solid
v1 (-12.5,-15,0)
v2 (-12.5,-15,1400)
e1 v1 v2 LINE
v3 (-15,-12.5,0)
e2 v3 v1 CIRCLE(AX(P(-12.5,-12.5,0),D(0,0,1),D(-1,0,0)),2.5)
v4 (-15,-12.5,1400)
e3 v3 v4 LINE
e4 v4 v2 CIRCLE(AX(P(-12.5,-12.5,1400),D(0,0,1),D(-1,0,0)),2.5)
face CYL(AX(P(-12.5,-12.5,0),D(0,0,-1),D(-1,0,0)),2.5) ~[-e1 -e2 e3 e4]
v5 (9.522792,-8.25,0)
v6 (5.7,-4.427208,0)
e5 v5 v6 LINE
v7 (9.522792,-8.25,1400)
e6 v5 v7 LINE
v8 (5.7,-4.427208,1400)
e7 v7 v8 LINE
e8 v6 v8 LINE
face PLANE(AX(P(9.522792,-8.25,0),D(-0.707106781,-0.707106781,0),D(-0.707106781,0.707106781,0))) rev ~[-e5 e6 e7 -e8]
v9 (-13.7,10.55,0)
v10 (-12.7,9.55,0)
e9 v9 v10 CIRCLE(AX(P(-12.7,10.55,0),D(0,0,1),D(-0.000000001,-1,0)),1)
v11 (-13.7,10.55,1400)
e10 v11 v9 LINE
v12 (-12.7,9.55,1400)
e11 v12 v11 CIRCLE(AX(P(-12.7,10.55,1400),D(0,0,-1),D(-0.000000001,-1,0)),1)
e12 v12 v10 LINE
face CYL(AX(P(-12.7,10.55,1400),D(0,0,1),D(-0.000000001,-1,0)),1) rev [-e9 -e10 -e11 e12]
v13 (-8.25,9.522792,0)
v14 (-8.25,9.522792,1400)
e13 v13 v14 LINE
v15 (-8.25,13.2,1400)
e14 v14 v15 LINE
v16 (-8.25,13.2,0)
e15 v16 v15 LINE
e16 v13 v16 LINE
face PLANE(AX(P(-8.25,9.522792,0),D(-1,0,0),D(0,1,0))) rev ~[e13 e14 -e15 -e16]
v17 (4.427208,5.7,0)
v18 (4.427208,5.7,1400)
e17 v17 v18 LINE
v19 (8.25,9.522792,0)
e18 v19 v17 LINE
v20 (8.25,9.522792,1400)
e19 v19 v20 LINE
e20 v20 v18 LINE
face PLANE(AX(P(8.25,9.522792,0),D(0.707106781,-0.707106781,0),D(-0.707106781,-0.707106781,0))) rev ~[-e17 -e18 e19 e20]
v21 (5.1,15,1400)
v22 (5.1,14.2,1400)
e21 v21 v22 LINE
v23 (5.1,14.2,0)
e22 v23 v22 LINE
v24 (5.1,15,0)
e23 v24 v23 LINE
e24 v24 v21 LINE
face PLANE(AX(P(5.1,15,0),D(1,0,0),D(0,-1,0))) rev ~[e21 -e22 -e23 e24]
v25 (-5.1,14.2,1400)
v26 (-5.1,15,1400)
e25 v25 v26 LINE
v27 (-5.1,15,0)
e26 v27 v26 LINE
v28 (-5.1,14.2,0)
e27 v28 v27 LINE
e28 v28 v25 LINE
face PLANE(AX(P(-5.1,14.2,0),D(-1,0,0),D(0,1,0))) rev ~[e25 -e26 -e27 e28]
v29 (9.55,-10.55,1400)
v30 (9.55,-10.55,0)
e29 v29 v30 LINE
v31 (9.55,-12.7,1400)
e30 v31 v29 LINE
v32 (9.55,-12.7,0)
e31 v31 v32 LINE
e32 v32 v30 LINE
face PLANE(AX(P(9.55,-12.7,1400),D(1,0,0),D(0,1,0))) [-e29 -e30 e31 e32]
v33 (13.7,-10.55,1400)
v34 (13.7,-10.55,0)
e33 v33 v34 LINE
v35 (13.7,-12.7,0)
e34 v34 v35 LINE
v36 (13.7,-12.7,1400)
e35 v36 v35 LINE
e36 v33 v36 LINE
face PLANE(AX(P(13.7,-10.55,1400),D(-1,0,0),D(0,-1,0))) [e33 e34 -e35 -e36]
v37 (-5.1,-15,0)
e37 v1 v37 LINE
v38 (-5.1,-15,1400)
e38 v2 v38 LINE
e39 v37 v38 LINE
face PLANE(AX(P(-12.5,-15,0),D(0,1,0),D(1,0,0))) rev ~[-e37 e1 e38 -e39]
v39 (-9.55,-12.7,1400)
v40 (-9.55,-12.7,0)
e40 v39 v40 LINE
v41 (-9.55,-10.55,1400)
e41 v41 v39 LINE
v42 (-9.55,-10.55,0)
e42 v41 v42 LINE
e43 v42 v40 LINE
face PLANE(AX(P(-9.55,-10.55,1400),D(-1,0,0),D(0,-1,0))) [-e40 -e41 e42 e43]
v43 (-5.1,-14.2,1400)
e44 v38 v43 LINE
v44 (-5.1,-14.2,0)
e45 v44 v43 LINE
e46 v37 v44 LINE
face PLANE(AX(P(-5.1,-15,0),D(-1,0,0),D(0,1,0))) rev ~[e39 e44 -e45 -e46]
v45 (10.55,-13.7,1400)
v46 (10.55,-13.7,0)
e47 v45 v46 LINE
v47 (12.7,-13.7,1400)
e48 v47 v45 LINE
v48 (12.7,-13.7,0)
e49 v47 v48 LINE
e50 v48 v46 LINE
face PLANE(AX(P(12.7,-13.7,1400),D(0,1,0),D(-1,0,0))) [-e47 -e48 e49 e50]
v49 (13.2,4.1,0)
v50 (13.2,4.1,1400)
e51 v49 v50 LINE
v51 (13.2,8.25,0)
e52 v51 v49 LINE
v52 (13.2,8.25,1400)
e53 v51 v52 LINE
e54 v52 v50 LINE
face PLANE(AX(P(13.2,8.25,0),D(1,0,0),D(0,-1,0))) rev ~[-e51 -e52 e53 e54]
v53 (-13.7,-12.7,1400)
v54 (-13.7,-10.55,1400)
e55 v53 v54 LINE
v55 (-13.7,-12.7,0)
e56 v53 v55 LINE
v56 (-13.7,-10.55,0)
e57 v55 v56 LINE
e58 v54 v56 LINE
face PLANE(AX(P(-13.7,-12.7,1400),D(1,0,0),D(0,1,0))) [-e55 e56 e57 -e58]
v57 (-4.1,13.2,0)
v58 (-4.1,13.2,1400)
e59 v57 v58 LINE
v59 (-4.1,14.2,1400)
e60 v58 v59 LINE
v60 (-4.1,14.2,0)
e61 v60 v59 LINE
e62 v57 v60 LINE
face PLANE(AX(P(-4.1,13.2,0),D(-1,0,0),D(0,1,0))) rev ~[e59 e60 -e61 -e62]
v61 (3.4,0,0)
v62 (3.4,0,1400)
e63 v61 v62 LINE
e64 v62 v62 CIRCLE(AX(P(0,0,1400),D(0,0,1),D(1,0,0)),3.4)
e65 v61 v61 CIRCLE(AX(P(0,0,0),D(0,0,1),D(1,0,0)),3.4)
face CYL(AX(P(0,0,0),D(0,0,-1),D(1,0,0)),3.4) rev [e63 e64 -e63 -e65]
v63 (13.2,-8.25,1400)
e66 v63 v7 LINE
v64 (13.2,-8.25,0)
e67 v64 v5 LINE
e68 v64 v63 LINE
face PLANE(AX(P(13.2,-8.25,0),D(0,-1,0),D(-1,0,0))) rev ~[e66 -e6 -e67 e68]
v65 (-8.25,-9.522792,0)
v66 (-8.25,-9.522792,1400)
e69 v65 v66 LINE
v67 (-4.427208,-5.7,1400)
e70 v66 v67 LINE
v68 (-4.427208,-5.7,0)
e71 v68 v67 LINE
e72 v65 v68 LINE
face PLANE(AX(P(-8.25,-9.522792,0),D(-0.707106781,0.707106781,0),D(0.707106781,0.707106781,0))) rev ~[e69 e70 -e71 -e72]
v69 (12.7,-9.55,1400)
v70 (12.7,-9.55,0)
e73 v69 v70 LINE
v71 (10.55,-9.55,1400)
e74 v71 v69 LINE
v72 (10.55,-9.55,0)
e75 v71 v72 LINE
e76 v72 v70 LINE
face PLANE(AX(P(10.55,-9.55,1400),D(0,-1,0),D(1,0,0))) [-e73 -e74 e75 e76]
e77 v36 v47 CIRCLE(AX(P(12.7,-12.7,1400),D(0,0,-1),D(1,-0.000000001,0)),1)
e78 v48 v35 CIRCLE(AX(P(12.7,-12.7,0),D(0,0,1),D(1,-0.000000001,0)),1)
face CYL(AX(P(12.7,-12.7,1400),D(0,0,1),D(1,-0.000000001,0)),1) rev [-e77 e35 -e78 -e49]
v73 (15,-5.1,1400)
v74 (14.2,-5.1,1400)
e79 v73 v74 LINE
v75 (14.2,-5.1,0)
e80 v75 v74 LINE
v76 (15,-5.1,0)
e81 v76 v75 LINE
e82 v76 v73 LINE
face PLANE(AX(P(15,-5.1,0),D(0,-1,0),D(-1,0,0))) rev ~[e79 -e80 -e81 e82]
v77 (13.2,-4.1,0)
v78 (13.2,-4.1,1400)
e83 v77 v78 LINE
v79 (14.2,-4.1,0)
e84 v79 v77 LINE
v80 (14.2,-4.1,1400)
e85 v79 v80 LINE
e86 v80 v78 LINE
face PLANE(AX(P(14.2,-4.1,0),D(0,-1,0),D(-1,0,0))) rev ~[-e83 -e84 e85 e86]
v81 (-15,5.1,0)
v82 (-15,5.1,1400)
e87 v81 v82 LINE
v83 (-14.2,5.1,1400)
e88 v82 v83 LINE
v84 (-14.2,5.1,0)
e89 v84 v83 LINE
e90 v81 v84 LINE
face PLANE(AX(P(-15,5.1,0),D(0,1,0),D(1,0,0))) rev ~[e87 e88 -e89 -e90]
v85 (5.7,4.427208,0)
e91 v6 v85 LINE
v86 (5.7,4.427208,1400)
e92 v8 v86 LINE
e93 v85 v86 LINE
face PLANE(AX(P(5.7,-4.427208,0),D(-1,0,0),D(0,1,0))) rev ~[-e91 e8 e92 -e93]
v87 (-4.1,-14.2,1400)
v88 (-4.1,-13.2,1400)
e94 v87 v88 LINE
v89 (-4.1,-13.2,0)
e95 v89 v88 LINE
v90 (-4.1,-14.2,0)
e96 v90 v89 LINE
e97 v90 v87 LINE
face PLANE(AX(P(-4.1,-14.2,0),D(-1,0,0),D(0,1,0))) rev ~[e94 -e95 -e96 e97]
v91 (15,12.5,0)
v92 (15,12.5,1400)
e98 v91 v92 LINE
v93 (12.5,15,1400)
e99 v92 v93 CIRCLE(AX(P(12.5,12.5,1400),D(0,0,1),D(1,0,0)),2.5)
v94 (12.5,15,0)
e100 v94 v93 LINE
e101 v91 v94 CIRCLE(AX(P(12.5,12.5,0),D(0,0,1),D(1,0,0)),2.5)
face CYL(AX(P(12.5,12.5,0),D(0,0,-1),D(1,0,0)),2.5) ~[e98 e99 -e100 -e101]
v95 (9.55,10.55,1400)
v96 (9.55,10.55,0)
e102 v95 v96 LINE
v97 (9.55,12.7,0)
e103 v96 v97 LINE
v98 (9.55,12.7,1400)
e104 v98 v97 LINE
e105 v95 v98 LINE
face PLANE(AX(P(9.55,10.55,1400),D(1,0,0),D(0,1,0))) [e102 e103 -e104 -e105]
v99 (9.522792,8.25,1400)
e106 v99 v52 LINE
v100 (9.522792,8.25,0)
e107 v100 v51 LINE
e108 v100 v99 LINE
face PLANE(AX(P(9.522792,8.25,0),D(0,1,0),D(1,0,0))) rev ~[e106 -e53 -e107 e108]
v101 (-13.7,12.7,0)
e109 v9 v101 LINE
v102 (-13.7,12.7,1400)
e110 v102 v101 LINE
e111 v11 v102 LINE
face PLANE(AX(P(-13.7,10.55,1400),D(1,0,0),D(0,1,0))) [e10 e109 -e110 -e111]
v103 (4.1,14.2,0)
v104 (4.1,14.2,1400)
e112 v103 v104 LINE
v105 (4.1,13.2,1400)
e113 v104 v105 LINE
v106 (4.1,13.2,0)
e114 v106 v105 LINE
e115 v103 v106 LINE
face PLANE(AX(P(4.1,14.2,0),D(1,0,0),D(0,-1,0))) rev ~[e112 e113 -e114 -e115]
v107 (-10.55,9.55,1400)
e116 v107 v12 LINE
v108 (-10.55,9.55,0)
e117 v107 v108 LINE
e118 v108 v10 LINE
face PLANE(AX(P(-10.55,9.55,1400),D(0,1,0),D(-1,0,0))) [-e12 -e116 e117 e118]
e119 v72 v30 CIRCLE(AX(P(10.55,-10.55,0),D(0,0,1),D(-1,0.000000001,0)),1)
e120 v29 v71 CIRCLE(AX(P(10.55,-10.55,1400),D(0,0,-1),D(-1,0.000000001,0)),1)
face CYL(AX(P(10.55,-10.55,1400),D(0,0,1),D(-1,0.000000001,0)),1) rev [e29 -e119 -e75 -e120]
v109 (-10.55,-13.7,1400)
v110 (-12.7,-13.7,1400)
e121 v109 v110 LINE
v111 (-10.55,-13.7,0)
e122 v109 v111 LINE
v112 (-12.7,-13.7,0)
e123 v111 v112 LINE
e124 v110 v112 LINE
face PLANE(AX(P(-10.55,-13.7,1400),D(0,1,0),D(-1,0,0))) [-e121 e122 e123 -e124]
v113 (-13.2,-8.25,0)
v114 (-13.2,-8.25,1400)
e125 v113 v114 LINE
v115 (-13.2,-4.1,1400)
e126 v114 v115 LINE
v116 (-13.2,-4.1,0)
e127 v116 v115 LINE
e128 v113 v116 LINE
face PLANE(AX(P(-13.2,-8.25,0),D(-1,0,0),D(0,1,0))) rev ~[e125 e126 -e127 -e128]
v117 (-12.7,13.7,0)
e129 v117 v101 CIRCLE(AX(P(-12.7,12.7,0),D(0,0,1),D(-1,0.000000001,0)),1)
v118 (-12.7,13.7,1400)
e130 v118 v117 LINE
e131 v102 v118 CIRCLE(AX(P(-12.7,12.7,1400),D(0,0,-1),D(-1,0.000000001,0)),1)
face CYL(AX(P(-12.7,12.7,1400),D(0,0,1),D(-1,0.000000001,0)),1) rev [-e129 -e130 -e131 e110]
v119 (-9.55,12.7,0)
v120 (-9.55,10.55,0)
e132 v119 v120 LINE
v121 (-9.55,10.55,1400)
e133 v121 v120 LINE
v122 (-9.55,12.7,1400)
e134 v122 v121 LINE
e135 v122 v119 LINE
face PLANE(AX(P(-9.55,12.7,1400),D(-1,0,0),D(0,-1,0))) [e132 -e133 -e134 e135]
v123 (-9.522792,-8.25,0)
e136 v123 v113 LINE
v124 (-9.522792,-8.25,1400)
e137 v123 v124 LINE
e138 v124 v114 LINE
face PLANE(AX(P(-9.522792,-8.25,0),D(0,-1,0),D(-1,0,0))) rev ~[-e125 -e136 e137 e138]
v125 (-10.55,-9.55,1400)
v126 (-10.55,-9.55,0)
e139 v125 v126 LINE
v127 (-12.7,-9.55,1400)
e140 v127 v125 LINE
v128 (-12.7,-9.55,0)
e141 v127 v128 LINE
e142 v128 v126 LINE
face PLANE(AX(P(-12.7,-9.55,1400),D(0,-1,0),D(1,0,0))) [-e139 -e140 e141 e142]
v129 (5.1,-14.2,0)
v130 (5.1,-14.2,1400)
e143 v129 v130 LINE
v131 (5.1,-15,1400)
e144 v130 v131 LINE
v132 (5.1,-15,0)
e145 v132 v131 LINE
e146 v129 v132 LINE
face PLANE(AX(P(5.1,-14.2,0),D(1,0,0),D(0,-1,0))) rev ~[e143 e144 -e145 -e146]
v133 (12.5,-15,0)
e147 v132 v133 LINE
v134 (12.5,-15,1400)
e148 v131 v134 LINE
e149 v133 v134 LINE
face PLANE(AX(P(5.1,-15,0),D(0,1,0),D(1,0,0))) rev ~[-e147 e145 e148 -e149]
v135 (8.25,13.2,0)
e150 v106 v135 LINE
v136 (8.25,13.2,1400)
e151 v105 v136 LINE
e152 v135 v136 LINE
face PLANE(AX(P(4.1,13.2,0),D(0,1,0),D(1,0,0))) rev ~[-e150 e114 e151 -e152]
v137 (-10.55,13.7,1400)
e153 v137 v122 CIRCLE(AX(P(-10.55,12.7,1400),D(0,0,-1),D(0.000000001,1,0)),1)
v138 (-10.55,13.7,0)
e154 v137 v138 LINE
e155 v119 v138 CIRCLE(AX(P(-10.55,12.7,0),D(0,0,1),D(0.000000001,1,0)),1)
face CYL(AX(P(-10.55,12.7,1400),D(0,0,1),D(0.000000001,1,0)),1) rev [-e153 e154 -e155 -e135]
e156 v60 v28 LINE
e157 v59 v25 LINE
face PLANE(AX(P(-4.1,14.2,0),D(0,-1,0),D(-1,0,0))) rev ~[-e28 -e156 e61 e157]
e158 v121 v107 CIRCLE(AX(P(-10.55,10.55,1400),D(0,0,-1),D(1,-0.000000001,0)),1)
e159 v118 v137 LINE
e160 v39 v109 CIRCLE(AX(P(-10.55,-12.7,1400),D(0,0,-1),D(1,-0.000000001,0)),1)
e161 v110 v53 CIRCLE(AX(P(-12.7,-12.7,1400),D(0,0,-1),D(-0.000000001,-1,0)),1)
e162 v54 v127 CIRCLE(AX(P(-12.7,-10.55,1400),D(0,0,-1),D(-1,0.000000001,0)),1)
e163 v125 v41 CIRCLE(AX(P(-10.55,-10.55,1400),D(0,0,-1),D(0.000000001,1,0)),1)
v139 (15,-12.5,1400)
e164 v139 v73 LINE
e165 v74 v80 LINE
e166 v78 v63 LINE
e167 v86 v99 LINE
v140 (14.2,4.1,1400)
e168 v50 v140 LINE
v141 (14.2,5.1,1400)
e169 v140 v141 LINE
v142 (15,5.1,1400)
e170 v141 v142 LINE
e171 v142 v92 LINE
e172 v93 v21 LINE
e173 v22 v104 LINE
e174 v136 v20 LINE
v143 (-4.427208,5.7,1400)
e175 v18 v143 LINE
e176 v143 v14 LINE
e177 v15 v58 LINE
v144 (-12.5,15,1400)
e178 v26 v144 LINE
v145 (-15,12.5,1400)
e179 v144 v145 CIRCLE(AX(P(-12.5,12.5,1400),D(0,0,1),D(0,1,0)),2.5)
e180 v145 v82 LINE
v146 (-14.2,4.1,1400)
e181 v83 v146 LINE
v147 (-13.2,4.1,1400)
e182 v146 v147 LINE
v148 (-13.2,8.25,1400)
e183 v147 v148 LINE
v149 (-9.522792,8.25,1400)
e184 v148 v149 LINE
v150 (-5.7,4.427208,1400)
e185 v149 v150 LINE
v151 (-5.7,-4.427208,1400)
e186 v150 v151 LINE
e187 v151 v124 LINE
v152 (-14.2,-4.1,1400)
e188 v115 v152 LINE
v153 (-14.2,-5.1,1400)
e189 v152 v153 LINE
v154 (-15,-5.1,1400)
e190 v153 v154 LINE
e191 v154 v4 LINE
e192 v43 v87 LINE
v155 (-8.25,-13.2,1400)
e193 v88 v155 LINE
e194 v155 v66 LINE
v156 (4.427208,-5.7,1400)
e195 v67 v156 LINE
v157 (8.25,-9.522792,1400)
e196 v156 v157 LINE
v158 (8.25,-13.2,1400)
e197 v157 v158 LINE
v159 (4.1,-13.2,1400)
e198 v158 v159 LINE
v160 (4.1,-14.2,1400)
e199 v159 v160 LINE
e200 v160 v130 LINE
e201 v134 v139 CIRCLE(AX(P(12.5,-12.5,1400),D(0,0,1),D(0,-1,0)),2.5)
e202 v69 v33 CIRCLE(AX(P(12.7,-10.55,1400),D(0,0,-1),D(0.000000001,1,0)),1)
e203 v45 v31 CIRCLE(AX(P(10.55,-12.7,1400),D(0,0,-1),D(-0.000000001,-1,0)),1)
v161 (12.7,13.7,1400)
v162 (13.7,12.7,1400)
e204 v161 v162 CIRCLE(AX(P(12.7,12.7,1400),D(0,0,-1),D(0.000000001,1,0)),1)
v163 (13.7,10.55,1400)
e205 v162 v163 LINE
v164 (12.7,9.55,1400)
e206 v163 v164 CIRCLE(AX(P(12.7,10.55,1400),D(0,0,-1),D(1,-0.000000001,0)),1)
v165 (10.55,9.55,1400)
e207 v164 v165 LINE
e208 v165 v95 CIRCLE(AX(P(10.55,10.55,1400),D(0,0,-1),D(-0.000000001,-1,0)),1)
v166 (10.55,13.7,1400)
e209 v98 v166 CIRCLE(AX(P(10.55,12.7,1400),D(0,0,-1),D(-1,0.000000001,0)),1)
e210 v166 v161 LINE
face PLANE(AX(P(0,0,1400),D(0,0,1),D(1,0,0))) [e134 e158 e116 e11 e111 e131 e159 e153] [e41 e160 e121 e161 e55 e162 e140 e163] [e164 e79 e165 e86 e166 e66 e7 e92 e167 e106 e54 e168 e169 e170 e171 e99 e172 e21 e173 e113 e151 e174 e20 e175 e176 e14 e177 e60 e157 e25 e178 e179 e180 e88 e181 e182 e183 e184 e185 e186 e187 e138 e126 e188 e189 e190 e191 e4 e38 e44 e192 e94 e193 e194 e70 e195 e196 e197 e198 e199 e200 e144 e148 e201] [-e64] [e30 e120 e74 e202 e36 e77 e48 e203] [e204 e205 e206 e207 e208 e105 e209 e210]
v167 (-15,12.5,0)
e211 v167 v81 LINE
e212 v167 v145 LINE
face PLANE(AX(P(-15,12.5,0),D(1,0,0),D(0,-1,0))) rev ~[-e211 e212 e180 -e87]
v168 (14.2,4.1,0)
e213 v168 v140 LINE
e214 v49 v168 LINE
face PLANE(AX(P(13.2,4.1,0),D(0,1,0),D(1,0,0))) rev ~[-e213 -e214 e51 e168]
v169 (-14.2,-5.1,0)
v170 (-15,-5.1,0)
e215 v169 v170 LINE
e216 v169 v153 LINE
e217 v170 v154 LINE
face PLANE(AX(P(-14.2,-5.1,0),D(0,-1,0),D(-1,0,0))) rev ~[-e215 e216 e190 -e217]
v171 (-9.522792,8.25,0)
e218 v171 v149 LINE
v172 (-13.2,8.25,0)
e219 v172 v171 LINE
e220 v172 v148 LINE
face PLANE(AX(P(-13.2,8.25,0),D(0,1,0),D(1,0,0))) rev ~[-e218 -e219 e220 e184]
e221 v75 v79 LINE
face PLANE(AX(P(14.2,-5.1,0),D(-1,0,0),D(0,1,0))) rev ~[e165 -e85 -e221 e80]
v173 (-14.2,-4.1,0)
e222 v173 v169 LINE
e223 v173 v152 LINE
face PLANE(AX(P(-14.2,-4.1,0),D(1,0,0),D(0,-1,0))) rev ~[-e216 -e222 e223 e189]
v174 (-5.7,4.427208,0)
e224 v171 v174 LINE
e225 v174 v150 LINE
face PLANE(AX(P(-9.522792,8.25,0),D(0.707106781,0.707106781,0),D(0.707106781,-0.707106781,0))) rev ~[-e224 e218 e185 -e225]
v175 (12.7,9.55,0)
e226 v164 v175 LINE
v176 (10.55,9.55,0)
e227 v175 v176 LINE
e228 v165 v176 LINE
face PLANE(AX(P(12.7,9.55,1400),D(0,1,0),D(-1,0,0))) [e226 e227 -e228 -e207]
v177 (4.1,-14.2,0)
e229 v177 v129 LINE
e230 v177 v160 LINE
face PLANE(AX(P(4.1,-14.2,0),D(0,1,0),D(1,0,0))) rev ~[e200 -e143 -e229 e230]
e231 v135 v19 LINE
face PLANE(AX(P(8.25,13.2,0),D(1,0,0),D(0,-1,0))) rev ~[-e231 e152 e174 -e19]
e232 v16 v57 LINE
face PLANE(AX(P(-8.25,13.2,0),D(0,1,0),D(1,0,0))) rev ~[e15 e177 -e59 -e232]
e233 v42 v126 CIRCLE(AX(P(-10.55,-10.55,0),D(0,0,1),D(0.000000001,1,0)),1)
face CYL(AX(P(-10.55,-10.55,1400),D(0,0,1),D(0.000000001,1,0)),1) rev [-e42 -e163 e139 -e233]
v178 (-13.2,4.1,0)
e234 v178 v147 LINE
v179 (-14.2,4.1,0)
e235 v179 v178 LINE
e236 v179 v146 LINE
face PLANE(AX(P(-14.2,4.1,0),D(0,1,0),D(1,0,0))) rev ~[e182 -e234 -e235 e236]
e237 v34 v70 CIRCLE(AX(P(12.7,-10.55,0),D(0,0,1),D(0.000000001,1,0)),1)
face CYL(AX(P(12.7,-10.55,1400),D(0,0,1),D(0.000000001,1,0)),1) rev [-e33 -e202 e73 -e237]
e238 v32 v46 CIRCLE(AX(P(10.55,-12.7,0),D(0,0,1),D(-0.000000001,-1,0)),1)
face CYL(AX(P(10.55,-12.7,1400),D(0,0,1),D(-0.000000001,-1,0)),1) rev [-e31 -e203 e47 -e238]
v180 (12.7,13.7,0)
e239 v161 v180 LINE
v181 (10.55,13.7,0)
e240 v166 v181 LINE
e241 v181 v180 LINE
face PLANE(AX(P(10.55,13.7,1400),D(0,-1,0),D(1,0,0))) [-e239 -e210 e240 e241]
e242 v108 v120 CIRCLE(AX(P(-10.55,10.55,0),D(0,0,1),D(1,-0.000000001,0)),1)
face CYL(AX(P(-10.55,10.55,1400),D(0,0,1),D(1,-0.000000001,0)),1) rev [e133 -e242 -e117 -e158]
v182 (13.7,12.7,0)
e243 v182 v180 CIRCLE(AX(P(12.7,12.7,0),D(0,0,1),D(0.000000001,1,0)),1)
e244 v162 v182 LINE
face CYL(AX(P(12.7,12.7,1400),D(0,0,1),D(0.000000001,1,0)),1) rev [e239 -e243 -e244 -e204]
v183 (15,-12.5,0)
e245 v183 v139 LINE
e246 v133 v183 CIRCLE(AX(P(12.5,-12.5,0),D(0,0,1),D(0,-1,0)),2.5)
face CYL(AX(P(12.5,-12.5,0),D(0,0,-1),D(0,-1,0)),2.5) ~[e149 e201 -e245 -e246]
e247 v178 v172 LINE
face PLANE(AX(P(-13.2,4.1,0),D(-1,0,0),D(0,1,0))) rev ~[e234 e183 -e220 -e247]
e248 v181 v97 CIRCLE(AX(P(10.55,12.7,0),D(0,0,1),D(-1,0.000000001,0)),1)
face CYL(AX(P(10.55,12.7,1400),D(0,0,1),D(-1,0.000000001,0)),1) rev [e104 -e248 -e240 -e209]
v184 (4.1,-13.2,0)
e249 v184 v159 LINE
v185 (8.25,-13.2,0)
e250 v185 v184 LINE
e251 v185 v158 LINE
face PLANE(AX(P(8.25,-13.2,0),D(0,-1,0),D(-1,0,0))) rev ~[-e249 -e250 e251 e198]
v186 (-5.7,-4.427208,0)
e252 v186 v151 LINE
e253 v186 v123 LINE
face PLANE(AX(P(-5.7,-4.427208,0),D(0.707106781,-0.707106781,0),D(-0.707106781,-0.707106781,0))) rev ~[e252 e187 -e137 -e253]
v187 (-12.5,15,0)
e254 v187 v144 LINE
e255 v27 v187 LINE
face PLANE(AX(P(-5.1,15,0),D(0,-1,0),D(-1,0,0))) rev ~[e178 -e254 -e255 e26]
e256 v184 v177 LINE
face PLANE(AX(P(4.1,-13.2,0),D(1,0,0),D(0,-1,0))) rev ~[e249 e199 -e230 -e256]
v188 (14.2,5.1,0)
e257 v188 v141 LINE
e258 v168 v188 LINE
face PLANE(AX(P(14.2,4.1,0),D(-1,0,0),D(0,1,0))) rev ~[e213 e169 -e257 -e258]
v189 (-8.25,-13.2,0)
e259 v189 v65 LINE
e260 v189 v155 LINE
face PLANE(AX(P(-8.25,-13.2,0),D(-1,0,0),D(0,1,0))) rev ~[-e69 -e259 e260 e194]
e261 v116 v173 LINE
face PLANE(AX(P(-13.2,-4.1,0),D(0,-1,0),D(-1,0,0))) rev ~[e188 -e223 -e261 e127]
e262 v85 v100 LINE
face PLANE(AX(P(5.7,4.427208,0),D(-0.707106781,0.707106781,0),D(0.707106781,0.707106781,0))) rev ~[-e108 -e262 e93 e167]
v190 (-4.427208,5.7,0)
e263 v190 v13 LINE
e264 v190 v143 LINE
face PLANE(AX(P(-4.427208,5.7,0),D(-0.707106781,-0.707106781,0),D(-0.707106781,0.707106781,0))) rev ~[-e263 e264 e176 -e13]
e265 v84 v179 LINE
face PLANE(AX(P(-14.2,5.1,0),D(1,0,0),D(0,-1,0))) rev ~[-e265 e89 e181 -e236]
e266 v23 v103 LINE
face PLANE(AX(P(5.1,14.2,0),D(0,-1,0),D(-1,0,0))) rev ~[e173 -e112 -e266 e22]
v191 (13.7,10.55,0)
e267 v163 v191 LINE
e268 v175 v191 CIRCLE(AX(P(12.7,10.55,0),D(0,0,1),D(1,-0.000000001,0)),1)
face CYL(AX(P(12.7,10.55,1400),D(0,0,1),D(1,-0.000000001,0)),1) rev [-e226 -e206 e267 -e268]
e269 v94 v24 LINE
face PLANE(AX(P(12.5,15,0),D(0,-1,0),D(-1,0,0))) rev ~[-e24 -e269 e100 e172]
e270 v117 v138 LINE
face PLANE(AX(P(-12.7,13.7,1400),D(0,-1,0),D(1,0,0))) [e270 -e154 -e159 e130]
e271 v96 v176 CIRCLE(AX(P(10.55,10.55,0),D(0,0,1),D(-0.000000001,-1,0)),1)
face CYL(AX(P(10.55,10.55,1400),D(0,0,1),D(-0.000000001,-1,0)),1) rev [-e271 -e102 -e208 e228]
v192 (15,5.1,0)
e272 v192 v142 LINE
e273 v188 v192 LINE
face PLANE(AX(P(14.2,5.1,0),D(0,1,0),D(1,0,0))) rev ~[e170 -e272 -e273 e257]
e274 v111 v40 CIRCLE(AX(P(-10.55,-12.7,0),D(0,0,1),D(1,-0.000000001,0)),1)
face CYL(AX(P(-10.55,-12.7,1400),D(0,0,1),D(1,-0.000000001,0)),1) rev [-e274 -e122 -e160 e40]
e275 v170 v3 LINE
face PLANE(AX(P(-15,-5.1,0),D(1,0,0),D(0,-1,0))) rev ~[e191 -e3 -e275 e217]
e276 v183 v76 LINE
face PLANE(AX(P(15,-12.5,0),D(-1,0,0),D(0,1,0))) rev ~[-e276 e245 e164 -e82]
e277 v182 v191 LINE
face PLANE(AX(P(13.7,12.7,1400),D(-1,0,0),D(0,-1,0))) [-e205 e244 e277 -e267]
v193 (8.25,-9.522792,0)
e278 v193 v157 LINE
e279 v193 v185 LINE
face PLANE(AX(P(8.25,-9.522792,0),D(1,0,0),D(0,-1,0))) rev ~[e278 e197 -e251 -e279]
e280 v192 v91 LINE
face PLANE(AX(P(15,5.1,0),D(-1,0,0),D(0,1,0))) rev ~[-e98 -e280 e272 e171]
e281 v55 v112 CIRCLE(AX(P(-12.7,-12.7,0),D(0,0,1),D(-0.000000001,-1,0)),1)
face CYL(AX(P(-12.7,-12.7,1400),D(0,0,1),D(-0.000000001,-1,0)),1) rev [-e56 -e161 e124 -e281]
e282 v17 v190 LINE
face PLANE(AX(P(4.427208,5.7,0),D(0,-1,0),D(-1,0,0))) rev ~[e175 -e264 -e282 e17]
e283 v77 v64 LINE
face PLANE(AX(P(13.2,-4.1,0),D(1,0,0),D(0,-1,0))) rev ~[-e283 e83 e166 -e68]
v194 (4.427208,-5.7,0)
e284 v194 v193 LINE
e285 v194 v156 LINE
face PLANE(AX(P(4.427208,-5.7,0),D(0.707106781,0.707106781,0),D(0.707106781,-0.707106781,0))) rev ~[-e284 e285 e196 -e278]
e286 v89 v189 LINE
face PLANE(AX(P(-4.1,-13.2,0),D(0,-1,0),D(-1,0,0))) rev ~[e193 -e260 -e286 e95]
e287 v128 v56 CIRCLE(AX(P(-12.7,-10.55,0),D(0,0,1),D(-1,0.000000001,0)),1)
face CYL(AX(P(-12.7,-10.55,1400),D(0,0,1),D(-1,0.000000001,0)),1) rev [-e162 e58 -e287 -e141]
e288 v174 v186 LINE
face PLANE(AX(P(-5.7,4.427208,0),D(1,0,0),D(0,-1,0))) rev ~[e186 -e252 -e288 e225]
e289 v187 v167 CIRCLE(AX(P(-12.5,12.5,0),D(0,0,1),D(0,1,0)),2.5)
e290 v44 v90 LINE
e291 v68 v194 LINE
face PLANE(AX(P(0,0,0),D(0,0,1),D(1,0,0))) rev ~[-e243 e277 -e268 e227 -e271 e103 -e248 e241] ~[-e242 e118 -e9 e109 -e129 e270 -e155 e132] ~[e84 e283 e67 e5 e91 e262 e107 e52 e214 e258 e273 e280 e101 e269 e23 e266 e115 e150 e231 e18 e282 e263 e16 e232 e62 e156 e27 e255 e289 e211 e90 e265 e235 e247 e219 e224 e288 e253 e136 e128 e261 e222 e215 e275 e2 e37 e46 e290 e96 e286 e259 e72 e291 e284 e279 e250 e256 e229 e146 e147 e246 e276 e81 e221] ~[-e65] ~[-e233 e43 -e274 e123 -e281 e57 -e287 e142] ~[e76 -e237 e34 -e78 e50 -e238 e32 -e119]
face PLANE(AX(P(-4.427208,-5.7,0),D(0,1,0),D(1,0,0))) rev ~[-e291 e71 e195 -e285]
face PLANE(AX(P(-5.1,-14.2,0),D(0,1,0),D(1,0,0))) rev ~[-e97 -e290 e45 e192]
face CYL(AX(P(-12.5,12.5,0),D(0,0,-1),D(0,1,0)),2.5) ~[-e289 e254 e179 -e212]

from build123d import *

# Parameters (mm, degrees)
SKETCH1_R      = 3.4
EXTRUDE1_DEPTH = 1400
EXTRUDE2_DEPTH = 1401.160705062


with BuildPart() as part:
    # Sketch1 → Extrude1 (new body)
    with BuildSketch(Plane.XY):
        with BuildLine():
            Line((-5.1, 14.2), (-5.1, 15))
            Line((-5.1, 15), (-12.5, 15))
            ThreePointArc((-12.5, 15), (-14.267766953, 14.267766953), (-15, 12.5))
            Line((-15, 12.5), (-15, 5.1))
            Line((-15, 5.1), (-14.2, 5.1))
            Line((-14.2, 5.1), (-14.2, 4.1))
            Line((-14.2, 4.1), (-13.2, 4.1))
            Line((-13.2, 4.1), (-13.2, 8.25))
            Line((-13.2, 8.25), (-9.522792206, 8.25))
            Line((-9.522792206, 8.25), (-5.7, 4.427207794))
            Line((-5.7, 4.427207794), (-5.7, -4.427207794))
            Line((-5.7, -4.427207794), (-9.522792206, -8.25))
            Line((-9.522792206, -8.25), (-13.2, -8.25))
            Line((-13.2, -8.25), (-13.2, -4.1))
            Line((-13.2, -4.1), (-14.2, -4.1))
            Line((-14.2, -4.1), (-14.2, -5.1))
            Line((-14.2, -5.1), (-15, -5.1))
            Line((-15, -5.1), (-15, -12.5))
            ThreePointArc((-15, -12.5), (-14.267766953, -14.267766953), (-12.5, -15))
            Line((-12.5, -15), (-5.1, -15))
            Line((-5.1, -15), (-5.1, -14.2))
            Line((-5.1, -14.2), (-4.1, -14.2))
            Line((-4.1, -14.2), (-4.1, -13.2))
            Line((-4.1, -13.2), (-8.25, -13.2))
            Line((-8.25, -13.2), (-8.25, -9.522792206))
            Line((-8.25, -9.522792206), (-4.427207794, -5.7))
            Line((-4.427207794, -5.7), (4.427207794, -5.7))
            Line((4.427207794, -5.7), (8.25, -9.522792206))
            Line((8.25, -9.522792206), (8.25, -13.2))
            Line((8.25, -13.2), (4.1, -13.2))
            Line((4.1, -13.2), (4.1, -14.2))
            Line((4.1, -14.2), (5.1, -14.2))
            Line((5.1, -14.2), (5.1, -15))
            Line((5.1, -15), (12.5, -15))
            ThreePointArc((12.5, -15), (14.267766953, -14.267766953), (15, -12.5))
            Line((15, -12.5), (15, -5.1))
            Line((15, -5.1), (14.2, -5.1))
            Line((14.2, -5.1), (14.2, -4.1))
            Line((14.2, -4.1), (13.2, -4.1))
            Line((13.2, -4.1), (13.2, -8.25))
            Line((13.2, -8.25), (9.522792206, -8.25))
            Line((9.522792206, -8.25), (5.7, -4.427207794))
            Line((5.7, -4.427207794), (5.7, 4.427207794))
            Line((5.7, 4.427207794), (9.522792206, 8.25))
            Line((9.522792206, 8.25), (13.2, 8.25))
            Line((13.2, 8.25), (13.2, 4.1))
            Line((13.2, 4.1), (14.2, 4.1))
            Line((14.2, 4.1), (14.2, 5.1))
            Line((14.2, 5.1), (15, 5.1))
            Line((15, 5.1), (15, 12.5))
            ThreePointArc((15, 12.5), (14.267766953, 14.267766953), (12.5, 15))
            Line((12.5, 15), (5.1, 15))
            Line((5.1, 15), (5.1, 14.2))
            Line((5.1, 14.2), (4.1, 14.2))
            Line((4.1, 14.2), (4.1, 13.2))
            Line((4.1, 13.2), (8.25, 13.2))
            Line((8.25, 13.2), (8.25, 9.522792206))
            Line((8.25, 9.522792206), (4.427207794, 5.7))
            Line((4.427207794, 5.7), (-4.427207794, 5.7))
            Line((-4.427207794, 5.7), (-8.25, 9.522792206))
            Line((-8.25, 9.522792206), (-8.25, 13.2))
            Line((-8.25, 13.2), (-4.1, 13.2))
            Line((-4.1, 13.2), (-4.1, 14.2))
            Line((-4.1, 14.2), (-5.1, 14.2))
        make_face()
        Circle(SKETCH1_R, mode=Mode.SUBTRACT)
    extrude(amount=EXTRUDE1_DEPTH)

    # Sketch2 → Extrude2 (cut, through all)
    with BuildSketch(Plane.XY.offset(1400)):
        with BuildLine():
            Line((13.7, 12.7), (13.7, 10.55))
            ThreePointArc((13.7, 10.55), (13.407106781, 9.842893219), (12.7, 9.55))
            Line((12.7, 9.55), (10.55, 9.55))
            ThreePointArc((10.55, 9.55), (9.842893219, 9.842893219), (9.55, 10.55))
            Line((9.55, 10.55), (9.55, 12.7))
            ThreePointArc((9.55, 12.7), (9.842893219, 13.407106781), (10.55, 13.7))
            Line((10.55, 13.7), (12.7, 13.7))
            ThreePointArc((12.7, 13.7), (13.407106781, 13.407106781), (13.7, 12.7))
        make_face()
        with BuildLine():
            Line((-12.7, 13.7), (-10.55, 13.7))
            ThreePointArc((-10.55, 13.7), (-9.842893219, 13.407106781), (-9.55, 12.7))
            Line((-9.55, 12.7), (-9.55, 10.55))
            ThreePointArc((-9.55, 10.55), (-9.842893219, 9.842893219), (-10.55, 9.55))
            Line((-10.55, 9.55), (-12.7, 9.55))
            ThreePointArc((-12.7, 9.55), (-13.407106781, 9.842893219), (-13.7, 10.55))
            Line((-13.7, 10.55), (-13.7, 12.7))
            ThreePointArc((-13.7, 12.7), (-13.407106781, 13.407106781), (-12.7, 13.7))
        make_face()
        with BuildLine():
            Line((12.7, -13.7), (10.55, -13.7))
            ThreePointArc((10.55, -13.7), (9.842893219, -13.407106781), (9.55, -12.7))
            Line((9.55, -12.7), (9.55, -10.55))
            ThreePointArc((9.55, -10.55), (9.842893219, -9.842893219), (10.55, -9.55))
            Line((10.55, -9.55), (12.7, -9.55))
            ThreePointArc((12.7, -9.55), (13.407106781, -9.842893219), (13.7, -10.55))
            Line((13.7, -10.55), (13.7, -12.7))
            ThreePointArc((13.7, -12.7), (13.407106781, -13.407106781), (12.7, -13.7))
        make_face()
        with BuildLine():
            Line((-13.7, -12.7), (-13.7, -10.55))
            ThreePointArc((-13.7, -10.55), (-13.407106781, -9.842893219), (-12.7, -9.55))
            Line((-12.7, -9.55), (-10.55, -9.55))
            ThreePointArc((-10.55, -9.55), (-9.842893219, -9.842893219), (-9.55, -10.55))
            Line((-9.55, -10.55), (-9.55, -12.7))
            ThreePointArc((-9.55, -12.7), (-9.842893219, -13.407106781), (-10.55, -13.7))
            Line((-10.55, -13.7), (-12.7, -13.7))
            ThreePointArc((-12.7, -13.7), (-13.407106781, -13.407106781), (-13.7, -12.7))
        make_face()
    extrude(amount=-EXTRUDE2_DEPTH, mode=Mode.SUBTRACT)


solid = part.part
